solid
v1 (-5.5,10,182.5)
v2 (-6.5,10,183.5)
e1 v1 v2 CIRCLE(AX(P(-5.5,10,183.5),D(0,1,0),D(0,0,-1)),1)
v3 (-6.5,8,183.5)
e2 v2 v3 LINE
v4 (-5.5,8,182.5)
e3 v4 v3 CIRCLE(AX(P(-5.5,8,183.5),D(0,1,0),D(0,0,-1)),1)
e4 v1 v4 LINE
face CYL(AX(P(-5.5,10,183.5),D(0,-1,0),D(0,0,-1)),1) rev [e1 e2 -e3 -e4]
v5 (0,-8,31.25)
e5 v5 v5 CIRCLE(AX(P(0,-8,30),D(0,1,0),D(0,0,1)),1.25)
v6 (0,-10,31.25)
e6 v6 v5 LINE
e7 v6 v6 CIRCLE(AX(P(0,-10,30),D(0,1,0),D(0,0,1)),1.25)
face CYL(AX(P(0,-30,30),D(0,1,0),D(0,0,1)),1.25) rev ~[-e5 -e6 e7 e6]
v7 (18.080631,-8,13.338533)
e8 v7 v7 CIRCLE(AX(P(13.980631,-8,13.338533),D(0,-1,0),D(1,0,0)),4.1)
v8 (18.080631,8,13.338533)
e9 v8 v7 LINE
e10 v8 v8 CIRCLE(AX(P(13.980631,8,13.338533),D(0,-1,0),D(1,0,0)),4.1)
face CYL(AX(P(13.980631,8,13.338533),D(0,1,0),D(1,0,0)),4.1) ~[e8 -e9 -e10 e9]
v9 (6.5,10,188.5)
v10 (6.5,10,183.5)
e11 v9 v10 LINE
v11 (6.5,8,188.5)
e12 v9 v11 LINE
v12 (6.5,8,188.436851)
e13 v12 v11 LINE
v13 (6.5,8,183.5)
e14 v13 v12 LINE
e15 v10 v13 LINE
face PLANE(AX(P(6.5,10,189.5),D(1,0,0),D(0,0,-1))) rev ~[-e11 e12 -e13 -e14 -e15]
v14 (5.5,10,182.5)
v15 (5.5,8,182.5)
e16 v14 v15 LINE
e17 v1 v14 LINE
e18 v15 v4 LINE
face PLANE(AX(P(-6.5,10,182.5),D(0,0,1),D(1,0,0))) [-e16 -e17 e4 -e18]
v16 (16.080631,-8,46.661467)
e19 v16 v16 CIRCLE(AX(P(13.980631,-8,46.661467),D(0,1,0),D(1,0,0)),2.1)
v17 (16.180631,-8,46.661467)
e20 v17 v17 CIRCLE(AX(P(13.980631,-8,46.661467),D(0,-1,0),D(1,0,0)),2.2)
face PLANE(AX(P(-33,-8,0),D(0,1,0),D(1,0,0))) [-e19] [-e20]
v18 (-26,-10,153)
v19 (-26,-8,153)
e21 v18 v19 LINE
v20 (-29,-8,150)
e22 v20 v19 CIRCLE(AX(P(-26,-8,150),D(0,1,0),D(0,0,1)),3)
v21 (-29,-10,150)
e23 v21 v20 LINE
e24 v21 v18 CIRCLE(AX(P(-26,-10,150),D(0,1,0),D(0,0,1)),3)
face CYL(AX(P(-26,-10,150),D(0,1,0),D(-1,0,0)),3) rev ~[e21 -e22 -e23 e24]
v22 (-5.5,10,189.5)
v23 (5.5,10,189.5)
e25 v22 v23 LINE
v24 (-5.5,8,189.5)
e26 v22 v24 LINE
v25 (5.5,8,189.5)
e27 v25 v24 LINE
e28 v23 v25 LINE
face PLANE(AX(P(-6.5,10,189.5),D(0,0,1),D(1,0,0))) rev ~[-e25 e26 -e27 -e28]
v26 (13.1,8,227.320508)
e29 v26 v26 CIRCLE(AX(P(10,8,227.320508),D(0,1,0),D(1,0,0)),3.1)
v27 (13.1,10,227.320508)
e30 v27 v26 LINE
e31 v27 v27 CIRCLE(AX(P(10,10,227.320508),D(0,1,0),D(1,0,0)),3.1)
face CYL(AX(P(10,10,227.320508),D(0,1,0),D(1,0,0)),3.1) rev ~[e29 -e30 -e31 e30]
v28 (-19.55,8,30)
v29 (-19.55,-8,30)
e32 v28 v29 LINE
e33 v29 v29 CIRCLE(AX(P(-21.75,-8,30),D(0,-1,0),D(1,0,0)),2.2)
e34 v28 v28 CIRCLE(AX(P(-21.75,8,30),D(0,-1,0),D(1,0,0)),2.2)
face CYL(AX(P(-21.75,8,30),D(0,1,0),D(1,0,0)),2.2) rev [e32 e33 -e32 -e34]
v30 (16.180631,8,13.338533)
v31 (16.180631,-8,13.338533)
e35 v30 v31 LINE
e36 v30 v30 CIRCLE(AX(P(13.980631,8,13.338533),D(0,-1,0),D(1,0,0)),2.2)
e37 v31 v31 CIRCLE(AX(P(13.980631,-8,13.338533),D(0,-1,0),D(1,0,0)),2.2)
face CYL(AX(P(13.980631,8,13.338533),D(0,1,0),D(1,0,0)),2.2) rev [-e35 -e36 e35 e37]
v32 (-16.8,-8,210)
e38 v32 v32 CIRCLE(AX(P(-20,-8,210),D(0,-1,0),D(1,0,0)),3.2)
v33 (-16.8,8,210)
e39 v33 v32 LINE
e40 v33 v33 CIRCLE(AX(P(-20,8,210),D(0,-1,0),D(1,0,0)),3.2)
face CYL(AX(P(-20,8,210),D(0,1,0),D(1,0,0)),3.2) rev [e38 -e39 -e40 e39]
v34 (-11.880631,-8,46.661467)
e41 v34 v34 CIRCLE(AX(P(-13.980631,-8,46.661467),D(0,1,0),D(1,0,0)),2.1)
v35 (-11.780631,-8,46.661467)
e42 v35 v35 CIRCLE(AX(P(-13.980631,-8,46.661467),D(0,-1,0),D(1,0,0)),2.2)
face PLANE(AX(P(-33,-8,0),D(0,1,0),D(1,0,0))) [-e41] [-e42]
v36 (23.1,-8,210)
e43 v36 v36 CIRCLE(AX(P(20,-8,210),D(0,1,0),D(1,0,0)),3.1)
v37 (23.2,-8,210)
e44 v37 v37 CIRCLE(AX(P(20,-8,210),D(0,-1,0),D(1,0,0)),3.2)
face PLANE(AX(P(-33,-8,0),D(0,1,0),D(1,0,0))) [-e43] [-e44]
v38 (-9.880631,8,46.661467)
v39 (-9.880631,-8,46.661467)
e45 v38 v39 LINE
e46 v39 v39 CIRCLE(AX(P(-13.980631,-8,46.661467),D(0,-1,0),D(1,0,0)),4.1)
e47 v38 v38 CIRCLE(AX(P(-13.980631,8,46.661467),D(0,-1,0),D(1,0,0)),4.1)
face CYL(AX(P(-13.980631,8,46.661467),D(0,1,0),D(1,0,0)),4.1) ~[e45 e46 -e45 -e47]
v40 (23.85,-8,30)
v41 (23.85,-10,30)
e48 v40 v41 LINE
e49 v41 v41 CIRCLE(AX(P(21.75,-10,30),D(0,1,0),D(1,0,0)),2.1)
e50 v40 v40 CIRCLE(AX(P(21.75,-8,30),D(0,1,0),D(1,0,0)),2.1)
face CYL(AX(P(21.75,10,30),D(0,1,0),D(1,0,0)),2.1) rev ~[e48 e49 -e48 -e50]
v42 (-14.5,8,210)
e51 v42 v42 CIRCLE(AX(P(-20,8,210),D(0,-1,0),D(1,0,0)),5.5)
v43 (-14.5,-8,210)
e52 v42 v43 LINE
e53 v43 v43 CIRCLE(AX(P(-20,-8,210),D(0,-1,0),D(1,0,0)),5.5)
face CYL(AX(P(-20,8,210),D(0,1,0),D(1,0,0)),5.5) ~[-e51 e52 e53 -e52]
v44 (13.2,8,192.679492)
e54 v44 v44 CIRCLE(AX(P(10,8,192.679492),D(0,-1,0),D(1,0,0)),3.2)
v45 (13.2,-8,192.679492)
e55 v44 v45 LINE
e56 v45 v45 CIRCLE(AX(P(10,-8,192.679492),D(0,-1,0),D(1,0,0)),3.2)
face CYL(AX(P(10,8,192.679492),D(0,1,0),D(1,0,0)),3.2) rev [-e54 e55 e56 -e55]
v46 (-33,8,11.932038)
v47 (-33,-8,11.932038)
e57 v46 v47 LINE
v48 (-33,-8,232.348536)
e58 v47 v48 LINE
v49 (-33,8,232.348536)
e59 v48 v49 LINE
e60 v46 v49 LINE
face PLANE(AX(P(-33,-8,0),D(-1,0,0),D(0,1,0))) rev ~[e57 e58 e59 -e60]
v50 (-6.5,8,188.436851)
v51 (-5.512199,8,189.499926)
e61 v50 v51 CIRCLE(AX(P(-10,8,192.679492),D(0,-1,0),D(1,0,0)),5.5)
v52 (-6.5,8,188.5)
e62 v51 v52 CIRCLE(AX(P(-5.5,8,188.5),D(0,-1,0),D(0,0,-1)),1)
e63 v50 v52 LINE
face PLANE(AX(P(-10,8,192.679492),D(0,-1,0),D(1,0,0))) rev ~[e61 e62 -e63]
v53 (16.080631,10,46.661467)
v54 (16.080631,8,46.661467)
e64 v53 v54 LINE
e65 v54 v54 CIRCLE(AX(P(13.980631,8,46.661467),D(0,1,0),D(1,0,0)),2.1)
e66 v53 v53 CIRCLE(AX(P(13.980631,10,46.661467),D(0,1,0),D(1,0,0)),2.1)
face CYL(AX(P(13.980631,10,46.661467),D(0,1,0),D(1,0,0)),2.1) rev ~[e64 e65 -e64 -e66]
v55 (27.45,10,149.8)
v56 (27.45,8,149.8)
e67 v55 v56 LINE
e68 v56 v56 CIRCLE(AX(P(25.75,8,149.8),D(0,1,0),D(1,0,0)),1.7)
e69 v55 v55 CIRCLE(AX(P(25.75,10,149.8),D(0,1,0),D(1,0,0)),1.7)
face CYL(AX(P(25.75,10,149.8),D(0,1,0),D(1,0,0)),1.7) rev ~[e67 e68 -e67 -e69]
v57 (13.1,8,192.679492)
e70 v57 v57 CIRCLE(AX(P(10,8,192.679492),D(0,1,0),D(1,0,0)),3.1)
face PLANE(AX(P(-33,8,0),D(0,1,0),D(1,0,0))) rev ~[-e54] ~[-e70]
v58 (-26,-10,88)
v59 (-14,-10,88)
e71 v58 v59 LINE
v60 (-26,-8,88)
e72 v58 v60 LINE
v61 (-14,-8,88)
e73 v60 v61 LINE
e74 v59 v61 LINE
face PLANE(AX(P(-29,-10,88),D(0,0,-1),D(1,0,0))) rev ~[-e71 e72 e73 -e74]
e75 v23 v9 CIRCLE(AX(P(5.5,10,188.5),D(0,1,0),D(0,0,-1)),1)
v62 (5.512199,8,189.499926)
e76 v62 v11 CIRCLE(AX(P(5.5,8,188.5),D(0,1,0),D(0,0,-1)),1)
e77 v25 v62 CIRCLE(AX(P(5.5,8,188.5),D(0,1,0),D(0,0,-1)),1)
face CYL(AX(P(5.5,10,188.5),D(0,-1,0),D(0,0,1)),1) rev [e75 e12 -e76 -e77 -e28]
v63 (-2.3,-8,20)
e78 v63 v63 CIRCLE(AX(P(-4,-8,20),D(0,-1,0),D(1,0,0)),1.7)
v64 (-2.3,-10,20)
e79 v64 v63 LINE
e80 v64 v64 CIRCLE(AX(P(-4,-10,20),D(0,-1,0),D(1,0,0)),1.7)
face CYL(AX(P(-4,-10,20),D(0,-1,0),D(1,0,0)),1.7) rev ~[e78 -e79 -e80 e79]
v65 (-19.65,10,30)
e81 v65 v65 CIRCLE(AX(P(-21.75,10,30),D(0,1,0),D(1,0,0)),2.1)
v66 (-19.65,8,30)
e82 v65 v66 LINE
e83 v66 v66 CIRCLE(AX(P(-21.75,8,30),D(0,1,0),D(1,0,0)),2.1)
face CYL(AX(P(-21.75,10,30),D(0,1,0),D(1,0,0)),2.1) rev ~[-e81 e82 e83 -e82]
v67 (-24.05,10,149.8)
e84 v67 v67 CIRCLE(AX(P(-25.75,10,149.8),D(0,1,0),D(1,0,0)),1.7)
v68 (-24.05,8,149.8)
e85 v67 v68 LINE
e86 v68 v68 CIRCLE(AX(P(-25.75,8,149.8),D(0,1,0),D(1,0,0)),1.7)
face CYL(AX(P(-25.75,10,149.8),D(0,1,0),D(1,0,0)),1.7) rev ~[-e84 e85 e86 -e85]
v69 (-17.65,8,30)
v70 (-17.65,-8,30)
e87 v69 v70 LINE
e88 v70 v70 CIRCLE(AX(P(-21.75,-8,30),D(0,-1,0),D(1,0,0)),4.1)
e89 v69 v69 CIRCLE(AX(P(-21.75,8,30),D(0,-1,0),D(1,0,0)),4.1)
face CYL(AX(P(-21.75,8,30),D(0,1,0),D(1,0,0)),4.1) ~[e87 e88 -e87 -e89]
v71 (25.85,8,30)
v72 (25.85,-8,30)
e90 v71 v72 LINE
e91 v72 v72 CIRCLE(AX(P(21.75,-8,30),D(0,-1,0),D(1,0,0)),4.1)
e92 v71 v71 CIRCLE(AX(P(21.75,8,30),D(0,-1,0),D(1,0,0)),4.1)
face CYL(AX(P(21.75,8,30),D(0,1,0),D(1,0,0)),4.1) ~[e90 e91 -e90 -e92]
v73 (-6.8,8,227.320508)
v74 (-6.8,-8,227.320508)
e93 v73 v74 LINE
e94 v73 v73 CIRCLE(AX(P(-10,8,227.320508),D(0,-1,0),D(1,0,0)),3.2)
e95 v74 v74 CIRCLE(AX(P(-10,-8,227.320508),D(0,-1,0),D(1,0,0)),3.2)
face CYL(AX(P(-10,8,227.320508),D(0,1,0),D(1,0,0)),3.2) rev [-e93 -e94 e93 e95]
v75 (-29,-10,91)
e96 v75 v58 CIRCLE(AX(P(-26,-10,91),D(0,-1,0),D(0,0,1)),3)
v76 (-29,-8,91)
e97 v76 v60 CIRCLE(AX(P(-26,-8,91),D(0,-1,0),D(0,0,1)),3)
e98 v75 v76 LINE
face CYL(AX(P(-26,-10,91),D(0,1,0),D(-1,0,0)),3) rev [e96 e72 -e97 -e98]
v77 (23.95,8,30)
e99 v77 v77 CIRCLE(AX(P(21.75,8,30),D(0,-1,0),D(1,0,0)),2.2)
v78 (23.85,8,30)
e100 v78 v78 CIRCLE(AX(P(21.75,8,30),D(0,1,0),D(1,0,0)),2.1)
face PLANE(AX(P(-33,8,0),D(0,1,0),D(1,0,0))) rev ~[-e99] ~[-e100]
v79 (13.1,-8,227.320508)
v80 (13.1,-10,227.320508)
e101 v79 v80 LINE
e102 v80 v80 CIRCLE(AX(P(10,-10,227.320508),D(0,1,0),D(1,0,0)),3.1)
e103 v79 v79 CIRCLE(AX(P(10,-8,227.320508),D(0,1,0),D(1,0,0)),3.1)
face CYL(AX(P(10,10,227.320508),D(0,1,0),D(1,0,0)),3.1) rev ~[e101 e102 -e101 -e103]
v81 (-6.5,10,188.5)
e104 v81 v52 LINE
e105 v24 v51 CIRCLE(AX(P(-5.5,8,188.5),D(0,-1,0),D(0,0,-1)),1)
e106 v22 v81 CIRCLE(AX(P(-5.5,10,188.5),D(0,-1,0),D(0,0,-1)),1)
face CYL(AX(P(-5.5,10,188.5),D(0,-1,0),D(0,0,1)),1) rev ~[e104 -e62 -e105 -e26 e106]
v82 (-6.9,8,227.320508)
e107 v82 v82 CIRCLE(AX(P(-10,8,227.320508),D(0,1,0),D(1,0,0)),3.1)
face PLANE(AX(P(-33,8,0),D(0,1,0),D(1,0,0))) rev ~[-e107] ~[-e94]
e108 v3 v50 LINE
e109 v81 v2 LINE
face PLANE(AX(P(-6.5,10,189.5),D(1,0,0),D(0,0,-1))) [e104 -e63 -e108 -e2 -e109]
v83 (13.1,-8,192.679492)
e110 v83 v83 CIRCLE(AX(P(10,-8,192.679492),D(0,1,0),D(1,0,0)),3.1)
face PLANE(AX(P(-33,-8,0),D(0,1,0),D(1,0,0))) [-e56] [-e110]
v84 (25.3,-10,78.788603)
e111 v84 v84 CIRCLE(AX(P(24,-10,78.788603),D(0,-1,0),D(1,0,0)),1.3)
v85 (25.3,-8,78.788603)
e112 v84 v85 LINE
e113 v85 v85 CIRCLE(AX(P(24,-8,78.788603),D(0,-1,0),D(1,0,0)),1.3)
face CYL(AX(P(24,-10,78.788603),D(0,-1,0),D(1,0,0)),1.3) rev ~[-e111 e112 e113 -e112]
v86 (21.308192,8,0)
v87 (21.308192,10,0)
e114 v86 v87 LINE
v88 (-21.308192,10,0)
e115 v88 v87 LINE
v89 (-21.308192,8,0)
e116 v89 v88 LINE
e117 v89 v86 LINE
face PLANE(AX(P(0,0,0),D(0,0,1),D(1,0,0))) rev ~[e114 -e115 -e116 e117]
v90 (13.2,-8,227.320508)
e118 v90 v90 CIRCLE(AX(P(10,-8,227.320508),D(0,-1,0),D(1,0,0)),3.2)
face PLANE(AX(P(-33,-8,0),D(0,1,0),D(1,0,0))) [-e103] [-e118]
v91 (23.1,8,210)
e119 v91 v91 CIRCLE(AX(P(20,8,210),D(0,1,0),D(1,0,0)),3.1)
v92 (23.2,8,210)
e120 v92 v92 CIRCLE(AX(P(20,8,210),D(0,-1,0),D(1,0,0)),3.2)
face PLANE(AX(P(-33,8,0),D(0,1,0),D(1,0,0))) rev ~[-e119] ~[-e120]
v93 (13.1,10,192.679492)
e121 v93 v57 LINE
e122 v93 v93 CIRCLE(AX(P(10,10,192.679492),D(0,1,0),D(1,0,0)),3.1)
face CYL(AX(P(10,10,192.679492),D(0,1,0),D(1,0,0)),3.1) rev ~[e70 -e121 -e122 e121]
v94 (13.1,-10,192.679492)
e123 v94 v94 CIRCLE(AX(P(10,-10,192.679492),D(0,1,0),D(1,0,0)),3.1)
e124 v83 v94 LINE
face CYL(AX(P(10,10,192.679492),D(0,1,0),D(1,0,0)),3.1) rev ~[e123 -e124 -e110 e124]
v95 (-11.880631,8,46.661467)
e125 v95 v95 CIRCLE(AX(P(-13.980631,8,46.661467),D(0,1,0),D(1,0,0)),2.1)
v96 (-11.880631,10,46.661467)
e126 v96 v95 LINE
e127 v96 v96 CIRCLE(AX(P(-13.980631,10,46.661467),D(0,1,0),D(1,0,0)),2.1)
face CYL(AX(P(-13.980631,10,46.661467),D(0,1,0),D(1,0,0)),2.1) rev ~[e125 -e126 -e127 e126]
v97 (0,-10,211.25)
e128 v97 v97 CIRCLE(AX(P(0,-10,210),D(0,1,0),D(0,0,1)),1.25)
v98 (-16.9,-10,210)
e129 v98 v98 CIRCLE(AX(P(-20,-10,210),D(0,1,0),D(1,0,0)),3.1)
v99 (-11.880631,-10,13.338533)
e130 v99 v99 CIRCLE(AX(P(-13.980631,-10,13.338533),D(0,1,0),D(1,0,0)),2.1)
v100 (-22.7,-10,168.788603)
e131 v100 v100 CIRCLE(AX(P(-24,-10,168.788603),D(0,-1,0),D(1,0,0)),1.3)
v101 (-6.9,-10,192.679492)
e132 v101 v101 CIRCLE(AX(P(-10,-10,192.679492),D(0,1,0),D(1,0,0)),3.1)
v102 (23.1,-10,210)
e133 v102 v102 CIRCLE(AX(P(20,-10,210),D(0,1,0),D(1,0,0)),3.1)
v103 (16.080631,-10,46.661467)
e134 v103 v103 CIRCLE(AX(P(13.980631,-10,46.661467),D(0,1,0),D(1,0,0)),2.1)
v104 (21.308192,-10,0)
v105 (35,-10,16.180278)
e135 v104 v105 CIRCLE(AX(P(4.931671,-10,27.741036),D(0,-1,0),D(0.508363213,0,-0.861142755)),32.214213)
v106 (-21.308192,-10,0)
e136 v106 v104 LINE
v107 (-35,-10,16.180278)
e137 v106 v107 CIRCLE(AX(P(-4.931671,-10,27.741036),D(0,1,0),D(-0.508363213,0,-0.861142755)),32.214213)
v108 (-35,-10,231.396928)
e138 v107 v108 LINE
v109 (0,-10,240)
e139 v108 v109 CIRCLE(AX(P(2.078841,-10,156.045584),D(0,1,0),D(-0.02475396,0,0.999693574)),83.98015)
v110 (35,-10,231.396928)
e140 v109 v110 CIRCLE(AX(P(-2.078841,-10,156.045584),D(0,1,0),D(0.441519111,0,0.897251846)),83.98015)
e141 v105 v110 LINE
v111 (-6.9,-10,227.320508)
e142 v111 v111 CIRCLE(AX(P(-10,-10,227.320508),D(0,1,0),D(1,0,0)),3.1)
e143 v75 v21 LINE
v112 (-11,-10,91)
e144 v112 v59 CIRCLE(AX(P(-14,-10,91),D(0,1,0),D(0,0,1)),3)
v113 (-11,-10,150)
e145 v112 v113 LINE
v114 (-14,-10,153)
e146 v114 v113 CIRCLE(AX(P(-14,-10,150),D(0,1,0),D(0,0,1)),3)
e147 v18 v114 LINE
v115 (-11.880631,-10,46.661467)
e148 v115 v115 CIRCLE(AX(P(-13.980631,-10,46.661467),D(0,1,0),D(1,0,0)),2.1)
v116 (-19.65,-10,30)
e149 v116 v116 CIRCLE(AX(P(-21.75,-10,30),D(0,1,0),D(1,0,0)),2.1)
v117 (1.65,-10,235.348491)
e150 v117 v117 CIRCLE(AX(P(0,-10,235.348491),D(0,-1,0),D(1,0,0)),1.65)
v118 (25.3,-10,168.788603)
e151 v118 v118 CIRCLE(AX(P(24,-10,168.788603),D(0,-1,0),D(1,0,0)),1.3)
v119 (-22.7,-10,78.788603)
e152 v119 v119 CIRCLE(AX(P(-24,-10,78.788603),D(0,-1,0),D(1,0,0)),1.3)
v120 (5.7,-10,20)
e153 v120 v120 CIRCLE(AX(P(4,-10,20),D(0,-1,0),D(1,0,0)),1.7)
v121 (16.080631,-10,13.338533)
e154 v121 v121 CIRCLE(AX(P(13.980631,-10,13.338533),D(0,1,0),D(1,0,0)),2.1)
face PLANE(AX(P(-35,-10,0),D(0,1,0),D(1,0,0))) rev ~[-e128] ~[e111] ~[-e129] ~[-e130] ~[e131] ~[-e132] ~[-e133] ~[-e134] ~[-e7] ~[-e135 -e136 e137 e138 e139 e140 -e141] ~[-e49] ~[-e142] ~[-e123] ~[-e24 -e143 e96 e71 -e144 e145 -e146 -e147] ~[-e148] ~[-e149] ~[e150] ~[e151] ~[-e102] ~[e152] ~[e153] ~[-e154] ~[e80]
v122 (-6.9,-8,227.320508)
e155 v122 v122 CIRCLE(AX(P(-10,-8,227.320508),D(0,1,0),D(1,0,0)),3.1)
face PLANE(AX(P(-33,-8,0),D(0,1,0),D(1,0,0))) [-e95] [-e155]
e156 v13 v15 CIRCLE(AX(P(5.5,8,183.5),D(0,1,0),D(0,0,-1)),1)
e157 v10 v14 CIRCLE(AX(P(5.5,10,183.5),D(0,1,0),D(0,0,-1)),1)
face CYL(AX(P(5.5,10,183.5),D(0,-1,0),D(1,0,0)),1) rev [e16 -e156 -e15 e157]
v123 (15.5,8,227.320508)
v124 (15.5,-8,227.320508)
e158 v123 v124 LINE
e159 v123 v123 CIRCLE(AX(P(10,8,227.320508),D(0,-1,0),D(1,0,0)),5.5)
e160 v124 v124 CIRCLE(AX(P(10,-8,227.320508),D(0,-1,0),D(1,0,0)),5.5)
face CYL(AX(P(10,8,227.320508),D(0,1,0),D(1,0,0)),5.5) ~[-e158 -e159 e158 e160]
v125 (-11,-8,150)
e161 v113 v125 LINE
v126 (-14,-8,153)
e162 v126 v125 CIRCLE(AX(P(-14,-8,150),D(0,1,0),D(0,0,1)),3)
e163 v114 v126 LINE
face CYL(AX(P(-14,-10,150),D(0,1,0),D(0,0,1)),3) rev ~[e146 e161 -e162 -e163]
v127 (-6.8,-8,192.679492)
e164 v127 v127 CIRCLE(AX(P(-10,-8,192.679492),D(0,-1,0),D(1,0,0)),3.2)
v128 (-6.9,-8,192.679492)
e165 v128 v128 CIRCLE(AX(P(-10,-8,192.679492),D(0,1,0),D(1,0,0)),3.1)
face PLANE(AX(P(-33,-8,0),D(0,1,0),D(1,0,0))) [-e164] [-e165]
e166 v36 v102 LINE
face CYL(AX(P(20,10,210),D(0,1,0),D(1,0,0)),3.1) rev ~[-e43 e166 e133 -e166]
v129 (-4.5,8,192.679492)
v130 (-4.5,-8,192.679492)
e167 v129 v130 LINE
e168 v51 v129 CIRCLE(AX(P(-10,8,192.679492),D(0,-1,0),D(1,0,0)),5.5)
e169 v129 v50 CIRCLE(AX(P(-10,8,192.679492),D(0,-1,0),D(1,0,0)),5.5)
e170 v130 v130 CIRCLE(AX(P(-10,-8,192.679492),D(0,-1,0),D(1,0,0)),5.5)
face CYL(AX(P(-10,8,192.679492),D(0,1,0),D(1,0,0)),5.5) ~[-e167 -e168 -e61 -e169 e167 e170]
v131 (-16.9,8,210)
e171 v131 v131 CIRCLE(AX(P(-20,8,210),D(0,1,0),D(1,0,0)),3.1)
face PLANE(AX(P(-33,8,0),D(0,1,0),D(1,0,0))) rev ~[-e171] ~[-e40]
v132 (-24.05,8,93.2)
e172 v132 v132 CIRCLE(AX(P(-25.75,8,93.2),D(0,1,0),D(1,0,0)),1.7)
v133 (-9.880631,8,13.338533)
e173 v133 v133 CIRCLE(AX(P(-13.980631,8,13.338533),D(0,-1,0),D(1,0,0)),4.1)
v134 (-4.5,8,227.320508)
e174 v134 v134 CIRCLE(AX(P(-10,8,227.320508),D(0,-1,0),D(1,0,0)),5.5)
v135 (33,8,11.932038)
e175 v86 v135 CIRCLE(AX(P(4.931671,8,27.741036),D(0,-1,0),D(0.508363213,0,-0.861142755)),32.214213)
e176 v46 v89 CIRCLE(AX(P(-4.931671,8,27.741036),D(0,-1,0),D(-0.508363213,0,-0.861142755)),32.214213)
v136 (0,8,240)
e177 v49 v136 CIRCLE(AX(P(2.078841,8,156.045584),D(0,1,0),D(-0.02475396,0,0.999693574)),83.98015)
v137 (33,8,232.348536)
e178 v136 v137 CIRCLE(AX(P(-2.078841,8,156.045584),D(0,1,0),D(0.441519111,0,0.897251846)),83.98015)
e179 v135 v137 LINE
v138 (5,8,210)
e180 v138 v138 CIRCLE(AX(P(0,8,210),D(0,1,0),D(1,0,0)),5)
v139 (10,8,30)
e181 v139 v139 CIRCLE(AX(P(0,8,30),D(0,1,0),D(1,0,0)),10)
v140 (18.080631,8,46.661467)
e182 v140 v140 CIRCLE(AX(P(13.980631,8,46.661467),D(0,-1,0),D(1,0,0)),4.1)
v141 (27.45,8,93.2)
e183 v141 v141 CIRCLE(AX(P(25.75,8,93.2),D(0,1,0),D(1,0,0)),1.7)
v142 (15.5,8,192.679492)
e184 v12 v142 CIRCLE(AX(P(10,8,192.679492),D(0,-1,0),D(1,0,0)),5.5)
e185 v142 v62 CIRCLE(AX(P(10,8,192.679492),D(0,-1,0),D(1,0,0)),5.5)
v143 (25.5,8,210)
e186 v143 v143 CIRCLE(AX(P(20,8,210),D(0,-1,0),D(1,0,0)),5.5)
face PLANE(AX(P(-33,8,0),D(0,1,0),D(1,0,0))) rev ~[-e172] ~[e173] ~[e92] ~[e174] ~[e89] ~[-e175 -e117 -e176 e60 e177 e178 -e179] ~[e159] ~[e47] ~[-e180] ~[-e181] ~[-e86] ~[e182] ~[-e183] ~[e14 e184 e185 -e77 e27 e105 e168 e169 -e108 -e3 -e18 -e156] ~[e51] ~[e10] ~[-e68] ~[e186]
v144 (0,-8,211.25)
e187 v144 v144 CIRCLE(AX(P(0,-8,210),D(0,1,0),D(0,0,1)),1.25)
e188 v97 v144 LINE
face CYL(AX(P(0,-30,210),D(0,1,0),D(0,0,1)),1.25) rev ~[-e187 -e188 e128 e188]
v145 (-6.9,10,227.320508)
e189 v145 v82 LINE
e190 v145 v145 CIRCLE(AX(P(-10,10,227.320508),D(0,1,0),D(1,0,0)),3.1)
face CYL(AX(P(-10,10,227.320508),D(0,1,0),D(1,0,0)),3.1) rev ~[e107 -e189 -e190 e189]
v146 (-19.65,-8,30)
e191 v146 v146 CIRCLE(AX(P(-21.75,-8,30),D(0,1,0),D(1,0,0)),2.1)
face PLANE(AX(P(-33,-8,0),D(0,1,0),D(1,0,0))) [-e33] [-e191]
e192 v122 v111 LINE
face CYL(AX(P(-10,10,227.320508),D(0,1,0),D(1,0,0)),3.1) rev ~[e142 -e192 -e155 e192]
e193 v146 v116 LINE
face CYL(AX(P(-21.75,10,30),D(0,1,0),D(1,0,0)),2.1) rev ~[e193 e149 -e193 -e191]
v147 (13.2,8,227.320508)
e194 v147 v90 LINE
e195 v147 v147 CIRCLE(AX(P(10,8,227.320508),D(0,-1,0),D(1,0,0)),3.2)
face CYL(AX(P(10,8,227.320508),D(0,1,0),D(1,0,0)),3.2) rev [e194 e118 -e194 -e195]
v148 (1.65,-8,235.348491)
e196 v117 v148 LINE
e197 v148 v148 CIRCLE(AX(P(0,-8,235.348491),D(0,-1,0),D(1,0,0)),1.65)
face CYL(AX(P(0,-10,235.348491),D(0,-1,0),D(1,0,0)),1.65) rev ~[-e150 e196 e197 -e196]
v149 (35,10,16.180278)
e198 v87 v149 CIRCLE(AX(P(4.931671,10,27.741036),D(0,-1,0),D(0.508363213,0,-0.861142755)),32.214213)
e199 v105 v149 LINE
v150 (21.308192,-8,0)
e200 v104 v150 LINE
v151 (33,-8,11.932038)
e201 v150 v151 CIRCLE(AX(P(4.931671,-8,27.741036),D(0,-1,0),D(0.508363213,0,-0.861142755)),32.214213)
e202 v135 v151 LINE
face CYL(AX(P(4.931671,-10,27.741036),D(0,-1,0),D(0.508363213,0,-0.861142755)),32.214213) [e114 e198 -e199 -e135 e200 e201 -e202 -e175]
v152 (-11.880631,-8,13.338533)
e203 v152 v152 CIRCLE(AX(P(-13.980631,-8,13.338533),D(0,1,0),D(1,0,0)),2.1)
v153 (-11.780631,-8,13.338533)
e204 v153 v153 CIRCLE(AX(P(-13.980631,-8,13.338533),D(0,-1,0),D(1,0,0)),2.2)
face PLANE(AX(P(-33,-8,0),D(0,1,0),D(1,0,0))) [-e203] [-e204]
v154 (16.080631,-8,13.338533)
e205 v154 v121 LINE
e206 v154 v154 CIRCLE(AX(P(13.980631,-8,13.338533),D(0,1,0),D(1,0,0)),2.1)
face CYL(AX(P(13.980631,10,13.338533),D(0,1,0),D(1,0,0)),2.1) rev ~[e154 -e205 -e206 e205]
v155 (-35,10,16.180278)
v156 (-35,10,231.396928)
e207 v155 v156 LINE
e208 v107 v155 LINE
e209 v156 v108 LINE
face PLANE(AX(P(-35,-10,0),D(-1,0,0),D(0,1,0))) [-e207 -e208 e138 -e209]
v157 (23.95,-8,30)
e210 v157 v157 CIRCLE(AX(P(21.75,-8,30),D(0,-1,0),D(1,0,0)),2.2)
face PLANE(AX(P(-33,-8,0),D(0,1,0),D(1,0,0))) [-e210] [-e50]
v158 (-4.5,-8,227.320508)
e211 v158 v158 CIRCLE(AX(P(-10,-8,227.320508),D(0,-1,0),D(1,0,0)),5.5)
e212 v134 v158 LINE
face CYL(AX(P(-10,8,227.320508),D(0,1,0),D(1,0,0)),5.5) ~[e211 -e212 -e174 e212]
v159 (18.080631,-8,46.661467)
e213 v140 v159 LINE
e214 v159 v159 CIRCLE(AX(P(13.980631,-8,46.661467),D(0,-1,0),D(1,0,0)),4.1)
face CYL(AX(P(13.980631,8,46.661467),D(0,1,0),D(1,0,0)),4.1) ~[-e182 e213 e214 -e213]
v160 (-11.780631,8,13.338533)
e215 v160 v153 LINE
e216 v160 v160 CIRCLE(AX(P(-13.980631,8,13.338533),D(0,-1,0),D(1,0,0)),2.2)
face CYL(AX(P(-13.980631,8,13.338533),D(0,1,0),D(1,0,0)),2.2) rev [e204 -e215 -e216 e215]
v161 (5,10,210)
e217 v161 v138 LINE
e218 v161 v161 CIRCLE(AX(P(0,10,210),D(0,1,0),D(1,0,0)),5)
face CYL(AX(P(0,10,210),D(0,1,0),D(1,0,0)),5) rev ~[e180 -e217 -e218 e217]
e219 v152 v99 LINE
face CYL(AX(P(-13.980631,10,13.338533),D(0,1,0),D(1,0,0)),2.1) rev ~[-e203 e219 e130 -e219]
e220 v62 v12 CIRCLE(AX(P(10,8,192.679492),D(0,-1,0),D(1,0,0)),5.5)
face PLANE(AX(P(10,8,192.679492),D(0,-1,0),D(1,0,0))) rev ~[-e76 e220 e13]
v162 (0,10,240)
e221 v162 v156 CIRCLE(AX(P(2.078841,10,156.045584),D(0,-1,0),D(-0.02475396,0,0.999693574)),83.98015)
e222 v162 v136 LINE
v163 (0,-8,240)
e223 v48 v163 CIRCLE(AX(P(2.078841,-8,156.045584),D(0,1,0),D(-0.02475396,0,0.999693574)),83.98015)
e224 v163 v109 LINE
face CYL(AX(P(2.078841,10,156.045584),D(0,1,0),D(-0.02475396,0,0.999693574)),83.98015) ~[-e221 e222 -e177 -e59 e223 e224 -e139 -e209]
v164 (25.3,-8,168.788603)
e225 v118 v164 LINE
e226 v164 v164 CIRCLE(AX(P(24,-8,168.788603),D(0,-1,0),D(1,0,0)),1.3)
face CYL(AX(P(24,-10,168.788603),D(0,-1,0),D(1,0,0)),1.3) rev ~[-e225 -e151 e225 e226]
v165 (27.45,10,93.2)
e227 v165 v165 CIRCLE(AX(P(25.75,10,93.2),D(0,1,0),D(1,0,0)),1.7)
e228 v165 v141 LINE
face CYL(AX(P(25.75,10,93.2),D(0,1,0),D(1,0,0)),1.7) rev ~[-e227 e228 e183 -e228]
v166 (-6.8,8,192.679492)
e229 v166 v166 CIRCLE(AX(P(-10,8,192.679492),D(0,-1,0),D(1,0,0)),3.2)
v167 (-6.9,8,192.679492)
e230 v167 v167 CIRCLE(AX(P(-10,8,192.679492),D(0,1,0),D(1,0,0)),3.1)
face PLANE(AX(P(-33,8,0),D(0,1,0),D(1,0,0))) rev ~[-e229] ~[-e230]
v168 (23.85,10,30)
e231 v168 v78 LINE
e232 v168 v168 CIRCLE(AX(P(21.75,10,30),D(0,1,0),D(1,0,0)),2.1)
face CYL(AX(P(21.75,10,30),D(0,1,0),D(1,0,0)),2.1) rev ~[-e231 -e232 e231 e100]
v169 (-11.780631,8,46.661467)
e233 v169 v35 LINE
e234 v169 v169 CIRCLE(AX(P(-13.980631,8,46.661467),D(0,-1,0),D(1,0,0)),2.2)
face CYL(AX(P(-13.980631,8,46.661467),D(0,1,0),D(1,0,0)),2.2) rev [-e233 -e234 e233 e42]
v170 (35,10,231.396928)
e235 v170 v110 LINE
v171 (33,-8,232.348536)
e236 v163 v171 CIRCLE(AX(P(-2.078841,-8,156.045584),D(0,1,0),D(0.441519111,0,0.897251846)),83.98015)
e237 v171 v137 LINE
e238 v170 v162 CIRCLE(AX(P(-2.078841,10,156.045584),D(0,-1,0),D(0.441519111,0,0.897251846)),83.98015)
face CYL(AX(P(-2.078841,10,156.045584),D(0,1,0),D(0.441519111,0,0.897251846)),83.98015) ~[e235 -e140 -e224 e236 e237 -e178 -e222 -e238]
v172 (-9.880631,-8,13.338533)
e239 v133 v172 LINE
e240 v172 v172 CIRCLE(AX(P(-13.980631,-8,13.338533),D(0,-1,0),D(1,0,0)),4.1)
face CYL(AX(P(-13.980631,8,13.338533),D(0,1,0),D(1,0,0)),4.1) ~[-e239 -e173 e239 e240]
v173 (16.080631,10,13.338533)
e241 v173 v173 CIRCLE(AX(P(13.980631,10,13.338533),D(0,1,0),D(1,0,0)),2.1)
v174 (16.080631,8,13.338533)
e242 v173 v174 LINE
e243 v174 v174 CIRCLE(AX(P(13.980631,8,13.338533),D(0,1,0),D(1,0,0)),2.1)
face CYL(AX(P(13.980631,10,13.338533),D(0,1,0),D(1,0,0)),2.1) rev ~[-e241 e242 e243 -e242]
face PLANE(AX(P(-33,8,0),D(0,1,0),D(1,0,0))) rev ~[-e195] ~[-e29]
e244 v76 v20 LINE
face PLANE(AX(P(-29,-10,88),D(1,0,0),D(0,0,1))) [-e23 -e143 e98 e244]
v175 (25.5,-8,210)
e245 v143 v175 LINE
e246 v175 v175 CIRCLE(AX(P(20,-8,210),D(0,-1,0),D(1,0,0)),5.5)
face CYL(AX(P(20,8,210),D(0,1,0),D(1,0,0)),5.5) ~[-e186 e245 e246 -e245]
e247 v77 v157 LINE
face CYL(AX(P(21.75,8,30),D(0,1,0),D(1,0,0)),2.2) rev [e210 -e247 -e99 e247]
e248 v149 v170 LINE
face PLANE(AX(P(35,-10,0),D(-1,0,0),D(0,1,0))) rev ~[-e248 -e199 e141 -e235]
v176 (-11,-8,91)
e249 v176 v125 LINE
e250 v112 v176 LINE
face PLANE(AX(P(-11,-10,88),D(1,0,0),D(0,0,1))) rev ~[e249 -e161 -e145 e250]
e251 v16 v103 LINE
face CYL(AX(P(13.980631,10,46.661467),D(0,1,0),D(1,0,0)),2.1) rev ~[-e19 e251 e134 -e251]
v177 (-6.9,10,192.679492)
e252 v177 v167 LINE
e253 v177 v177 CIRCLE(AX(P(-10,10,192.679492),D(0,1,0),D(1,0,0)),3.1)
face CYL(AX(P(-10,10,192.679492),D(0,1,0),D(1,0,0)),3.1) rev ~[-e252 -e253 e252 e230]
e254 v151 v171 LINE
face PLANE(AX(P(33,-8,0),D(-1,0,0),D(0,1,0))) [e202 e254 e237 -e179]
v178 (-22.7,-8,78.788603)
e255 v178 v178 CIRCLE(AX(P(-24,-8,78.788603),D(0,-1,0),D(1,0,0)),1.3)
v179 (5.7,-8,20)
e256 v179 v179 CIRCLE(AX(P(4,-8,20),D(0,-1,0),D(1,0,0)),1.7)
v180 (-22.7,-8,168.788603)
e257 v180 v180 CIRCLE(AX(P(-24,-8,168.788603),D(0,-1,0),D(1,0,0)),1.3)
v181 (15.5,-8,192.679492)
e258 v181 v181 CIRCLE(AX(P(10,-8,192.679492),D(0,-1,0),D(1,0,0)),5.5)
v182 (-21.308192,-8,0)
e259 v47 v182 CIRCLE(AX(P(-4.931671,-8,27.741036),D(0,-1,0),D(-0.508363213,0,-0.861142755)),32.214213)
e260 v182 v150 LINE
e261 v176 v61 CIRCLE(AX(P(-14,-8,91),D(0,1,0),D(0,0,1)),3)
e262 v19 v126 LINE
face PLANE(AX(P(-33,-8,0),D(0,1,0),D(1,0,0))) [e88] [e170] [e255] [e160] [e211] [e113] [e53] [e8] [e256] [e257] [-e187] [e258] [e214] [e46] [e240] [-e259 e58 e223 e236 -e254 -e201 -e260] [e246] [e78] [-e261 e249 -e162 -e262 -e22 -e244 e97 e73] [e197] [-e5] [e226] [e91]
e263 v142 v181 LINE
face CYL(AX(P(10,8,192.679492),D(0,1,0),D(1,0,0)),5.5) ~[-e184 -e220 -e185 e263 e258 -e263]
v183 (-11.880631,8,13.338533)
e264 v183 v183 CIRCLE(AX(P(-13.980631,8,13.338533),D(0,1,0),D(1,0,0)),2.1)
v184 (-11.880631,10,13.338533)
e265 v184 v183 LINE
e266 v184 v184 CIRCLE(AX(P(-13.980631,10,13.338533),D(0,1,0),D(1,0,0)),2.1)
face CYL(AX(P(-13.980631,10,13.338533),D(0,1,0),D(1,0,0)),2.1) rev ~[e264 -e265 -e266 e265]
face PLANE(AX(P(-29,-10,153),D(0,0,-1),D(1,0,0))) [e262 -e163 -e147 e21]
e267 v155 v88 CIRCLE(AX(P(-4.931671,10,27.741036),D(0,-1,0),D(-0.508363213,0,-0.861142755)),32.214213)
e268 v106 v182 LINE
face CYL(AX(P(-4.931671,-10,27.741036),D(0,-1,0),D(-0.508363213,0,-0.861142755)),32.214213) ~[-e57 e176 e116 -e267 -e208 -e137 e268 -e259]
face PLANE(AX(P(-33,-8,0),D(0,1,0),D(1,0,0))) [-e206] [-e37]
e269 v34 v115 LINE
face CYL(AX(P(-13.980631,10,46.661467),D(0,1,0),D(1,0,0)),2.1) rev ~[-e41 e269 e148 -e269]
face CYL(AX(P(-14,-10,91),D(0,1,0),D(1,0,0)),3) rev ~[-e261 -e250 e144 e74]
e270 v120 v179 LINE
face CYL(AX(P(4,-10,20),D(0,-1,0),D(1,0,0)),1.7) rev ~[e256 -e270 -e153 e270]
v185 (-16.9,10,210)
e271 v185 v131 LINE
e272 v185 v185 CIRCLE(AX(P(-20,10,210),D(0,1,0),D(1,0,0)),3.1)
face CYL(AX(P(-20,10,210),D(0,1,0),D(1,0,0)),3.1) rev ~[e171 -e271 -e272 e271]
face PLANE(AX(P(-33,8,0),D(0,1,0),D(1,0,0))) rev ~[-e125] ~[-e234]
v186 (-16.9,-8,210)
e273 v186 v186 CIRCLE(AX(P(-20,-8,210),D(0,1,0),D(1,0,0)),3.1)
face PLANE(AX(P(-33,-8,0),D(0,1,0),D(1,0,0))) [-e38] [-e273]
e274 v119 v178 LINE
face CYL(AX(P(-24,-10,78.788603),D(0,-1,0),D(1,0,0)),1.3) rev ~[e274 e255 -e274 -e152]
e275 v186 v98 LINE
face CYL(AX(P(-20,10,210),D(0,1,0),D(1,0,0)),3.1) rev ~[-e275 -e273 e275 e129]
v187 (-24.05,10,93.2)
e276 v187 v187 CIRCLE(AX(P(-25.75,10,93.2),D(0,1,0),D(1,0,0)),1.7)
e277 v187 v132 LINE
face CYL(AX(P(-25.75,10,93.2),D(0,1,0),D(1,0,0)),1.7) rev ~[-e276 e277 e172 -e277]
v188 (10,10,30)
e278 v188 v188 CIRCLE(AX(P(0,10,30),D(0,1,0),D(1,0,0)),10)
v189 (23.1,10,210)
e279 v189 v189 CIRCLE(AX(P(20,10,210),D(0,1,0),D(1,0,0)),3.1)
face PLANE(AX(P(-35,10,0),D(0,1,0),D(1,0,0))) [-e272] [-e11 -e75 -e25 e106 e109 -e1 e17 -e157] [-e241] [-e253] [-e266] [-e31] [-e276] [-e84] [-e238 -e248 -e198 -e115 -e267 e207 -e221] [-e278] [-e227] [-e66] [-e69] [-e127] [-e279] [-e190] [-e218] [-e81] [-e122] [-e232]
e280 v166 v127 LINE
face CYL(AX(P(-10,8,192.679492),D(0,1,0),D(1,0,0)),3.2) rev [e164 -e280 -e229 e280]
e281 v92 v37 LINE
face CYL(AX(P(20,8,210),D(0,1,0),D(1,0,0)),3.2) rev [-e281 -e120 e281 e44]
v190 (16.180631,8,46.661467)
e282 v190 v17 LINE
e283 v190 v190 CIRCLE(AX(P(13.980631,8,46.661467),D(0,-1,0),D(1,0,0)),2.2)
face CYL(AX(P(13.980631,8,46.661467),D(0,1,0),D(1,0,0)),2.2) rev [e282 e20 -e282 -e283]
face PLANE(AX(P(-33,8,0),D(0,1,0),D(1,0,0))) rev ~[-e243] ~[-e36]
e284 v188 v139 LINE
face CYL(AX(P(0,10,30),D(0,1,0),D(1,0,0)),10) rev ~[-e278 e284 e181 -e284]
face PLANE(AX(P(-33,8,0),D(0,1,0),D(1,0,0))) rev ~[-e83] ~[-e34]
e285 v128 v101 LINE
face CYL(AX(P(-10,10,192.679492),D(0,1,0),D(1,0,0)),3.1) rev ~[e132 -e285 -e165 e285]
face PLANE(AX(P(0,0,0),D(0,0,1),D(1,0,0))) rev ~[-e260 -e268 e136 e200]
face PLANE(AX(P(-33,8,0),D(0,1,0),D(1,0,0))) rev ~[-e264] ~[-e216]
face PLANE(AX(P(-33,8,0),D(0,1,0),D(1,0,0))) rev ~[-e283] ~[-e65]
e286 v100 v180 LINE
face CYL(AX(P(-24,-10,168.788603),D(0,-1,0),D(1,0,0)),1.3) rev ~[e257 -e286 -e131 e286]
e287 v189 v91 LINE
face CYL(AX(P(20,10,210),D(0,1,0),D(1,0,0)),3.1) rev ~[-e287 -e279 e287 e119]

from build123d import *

# Parameters (mm, degrees)
SKETCH_1_W             = 70
SKETCH_1_H             = 20
SKETCH_1_W_2           = 66
SKETCH_1_H_2           = 16
EXTRUDE_1_DEPTH        = 240
CUT_EXTRUDE_1_REACH    = 22
SKETCH_2_R             = 10
CUT_EXTRUDE_2_REACH    = 22
SKETCH_3_R             = 5
SKETCH_4_R             = 2.1
CUT_EXTRUDE_3_DEPTH    = 21
CUT_EXTRUDE_5_REACH    = 22
CUT_EXTRUDE_8_DEPTH    = 21
SKETCH_13_R            = 3.1
CUT_EXTRUDE_10_DEPTH   = 21
CUT_EXTRUDE_11_REACH   = 22
SKETCH_14_W            = 13
SKETCH_14_H            = 7
FILLET_1_R             = 1
CUT_EXTRUDE_12_REACH   = 22
SKETCH_15_R            = 1
HOLE_WIZARD_M3_1_D     = 2.5
HOLE_WIZARD_M3_1_DEPTH = 20
SKETCH_40_R            = 1.7
CUT_EXTRUDE_21_DEPTH   = 10
SKETCH_49_R            = 4.1
SKETCH_49_R_2          = 2.2
SKETCH_49_R_3          = 5.5
SKETCH_49_R_4          = 3.2
EXTRUDE_2_DEPTH        = 16
SKETCH_50_R            = 1.7
CUT_EXTRUDE_27_DEPTH   = 2
SKETCH_51_W            = 18
SKETCH_51_H            = 65
CUT_EXTRUDE_28_DEPTH   = 2
FILLET_6_R             = 3
CUT_EXTRUDE_29_REACH   = 22
SKETCH_52_R            = 1.3
CUT_EXTRUDE_30_REACH   = 22
SKETCH_53_R            = 1.65


with BuildPart() as part:
    # 草图1 → 凸台-拉伸1 (new body)
    with BuildSketch(Plane.XY):
        Rectangle(SKETCH_1_W, SKETCH_1_H)
        Rectangle(SKETCH_1_W_2, SKETCH_1_H_2, mode=Mode.SUBTRACT)
    extrude(amount=EXTRUDE_1_DEPTH)

    # 草图2 → 切除-拉伸1 (cut, up to next)
    with BuildSketch(Plane(origin=(0, 10, 0), x_dir=(1, 0, 0), z_dir=(0, 1, 0)), mode=Mode.PRIVATE) as cut_extrude_1_sk1:
        with Locations((0, -30)):
            Circle(SKETCH_2_R)
    cut_extrude_1_tool1 = extrude(cut_extrude_1_sk1.sketch, amount=-CUT_EXTRUDE_1_REACH, mode=Mode.PRIVATE) & part.part
    add(cut_extrude_1_tool1.solids().sort_by_distance((0, 10, 30))[0], mode=Mode.SUBTRACT)

    # 草图3 → 切除-拉伸2 (cut, up to next)
    with BuildSketch(Plane(origin=(0, 10, 0), x_dir=(1, 0, 0), z_dir=(0, 1, 0)), mode=Mode.PRIVATE) as cut_extrude_2_sk1:
        with Locations((0, -210)):
            Circle(SKETCH_3_R)
    cut_extrude_2_tool1 = extrude(cut_extrude_2_sk1.sketch, amount=-CUT_EXTRUDE_2_REACH, mode=Mode.PRIVATE) & part.part
    add(cut_extrude_2_tool1.solids().sort_by_distance((0, 10, 210))[0], mode=Mode.SUBTRACT)

    # 草图4 → 切除-拉伸3 (cut, through all)
    with BuildSketch(Plane(origin=(0, 10, 0), x_dir=(1, 0, 0), z_dir=(0, 1, 0))):
        with Locations((-13.980630511, -13.338533362)):
            Circle(SKETCH_4_R)
        with Locations((-21.75, -30)):
            Circle(SKETCH_4_R)
        with Locations((13.980630511, -13.338533362)):
            Circle(SKETCH_4_R)
        with Locations((21.75, -30)):
            Circle(SKETCH_4_R)
        with Locations((13.980630511, -46.661466638)):
            Circle(SKETCH_4_R)
        with Locations((-13.980630511, -46.661466638)):
            Circle(SKETCH_4_R)
    extrude(amount=-CUT_EXTRUDE_3_DEPTH, mode=Mode.SUBTRACT)

    # 草图7 → 切除-拉伸5 (cut, up to next)
    with BuildSketch(Plane.XZ.offset(10), mode=Mode.PRIVATE) as cut_extrude_5_sk1:
        with BuildLine():
            Line((-35, 16.180278489), (-35, 0))
            Line((-35, 0), (-21.308191912, 0))
            ThreePointArc((-21.308191912, 0), (-29.522957546, 6.931803792), (-35, 16.180278489))
        make_face()
    cut_extrude_5_tool1 = extrude(cut_extrude_5_sk1.sketch, amount=-CUT_EXTRUDE_5_REACH, mode=Mode.PRIVATE) & part.part
    add(cut_extrude_5_tool1.solids().sort_by_distance((-30.953915, -10, 4.726426))[0], mode=Mode.SUBTRACT)
    # 草图7 → 切除-拉伸5 (cut, up to next)
    with BuildSketch(Plane.XZ.offset(10), mode=Mode.PRIVATE) as cut_extrude_5_sk2:
        with BuildLine():
            Line((35, 16.180278489), (35, 0))
            Line((35, 0), (21.308191912, 0))
            ThreePointArc((21.308191912, 0), (29.522957546, 6.931803792), (35, 16.180278489))
        make_face()
    cut_extrude_5_tool2 = extrude(cut_extrude_5_sk2.sketch, amount=-CUT_EXTRUDE_5_REACH, mode=Mode.PRIVATE) & part.part
    add(cut_extrude_5_tool2.solids().sort_by_distance((30.953915, -10, 4.726426))[0], mode=Mode.SUBTRACT)

    # 草图10 → 切除-拉伸8 (cut, through all)
    with BuildSketch(Plane(origin=(0, 10, 0), x_dir=(1, 0, 0), z_dir=(0, 1, 0))):
        with BuildLine():
            ThreePointArc((0, -240), (-17.966962187, -237.598213103), (-35, -231.396928288))
            Line((-35, -231.396928288), (-35, -240))
            Line((-35, -240), (0, -240))
        make_face()
        with BuildLine():
            ThreePointArc((35, -231.396928288), (17.966962187, -237.598213103), (0, -240))
            Line((0, -240), (35, -240))
            Line((35, -240), (35, -231.396928288))
        make_face()
    extrude(amount=-CUT_EXTRUDE_8_DEPTH, mode=Mode.SUBTRACT)

    # 草图13 → 切除-拉伸10 (cut, through all)
    with BuildSketch(Plane(origin=(0, 10, 0), x_dir=(1, 0, 0), z_dir=(0, 1, 0))):
        with Locations((-20, -210)):
            Circle(SKETCH_13_R)
        with Locations((-10, -192.679491924)):
            Circle(SKETCH_13_R)
        with Locations((10, -192.679491924)):
            Circle(SKETCH_13_R)
        with Locations((20, -210)):
            Circle(SKETCH_13_R)
        with Locations((10, -227.320508076)):
            Circle(SKETCH_13_R)
        with Locations((-10, -227.320508076)):
            Circle(SKETCH_13_R)
    extrude(amount=-CUT_EXTRUDE_10_DEPTH, mode=Mode.SUBTRACT)

    # 草图14 → 切除-拉伸11 (cut, up to next)
    with BuildSketch(Plane(origin=(0, 10, 0), x_dir=(1, 0, 0), z_dir=(0, 1, 0)), mode=Mode.PRIVATE) as cut_extrude_11_sk1:
        with Locations((0, -186)):
            Rectangle(SKETCH_14_W, SKETCH_14_H)
    cut_extrude_11_tool1 = extrude(cut_extrude_11_sk1.sketch, amount=-CUT_EXTRUDE_11_REACH, mode=Mode.PRIVATE) & part.part
    add(cut_extrude_11_tool1.solids().sort_by_distance((0, 10, 186))[0], mode=Mode.SUBTRACT)

    # 圆角1
    fillet_1_edges = [part.edges().sort_by_distance(p)[0] for p in [
        (-6.5, 9, 189.5),
        (-6.5, 9, 182.5),
        (6.5, 9, 182.5),
        (6.5, 9, 189.5),
    ]]
    fillet(fillet_1_edges, radius=FILLET_1_R)

    # 草图15 → 切除-拉伸12 (cut, up to next)
    with BuildSketch(Plane.XZ.offset(10), mode=Mode.PRIVATE) as cut_extrude_12_sk1:
        with Locations((0, 30)):
            Circle(SKETCH_15_R)
    cut_extrude_12_tool1 = extrude(cut_extrude_12_sk1.sketch, amount=-CUT_EXTRUDE_12_REACH, mode=Mode.PRIVATE) & part.part
    add(cut_extrude_12_tool1.solids().sort_by_distance((0, -10, 30))[0], mode=Mode.SUBTRACT)

    # M3 螺纹孔1
    with Locations(Plane(origin=(0, -10, 30), x_dir=(0, 0, -1), z_dir=(0, -1, 0))):
        with Locations((0, 0), (-180, 0)):
            Hole(HOLE_WIZARD_M3_1_D / 2, depth=HOLE_WIZARD_M3_1_DEPTH)

    # 草图40 → 切除-拉伸21 (cut)
    with BuildSketch(Plane.XZ.offset(10)):
        with Locations((-4, 20)):
            Circle(SKETCH_40_R)
        with Locations((4, 20)):
            Circle(SKETCH_40_R)
    extrude(amount=-CUT_EXTRUDE_21_DEPTH, mode=Mode.SUBTRACT)

    # 草图49 → 凸台-拉伸2 (add)
    with BuildSketch(Plane.XZ.offset(-8)):
        with Locations((-13.980630511, 46.661466638)):
            Circle(SKETCH_49_R)
        with Locations((-13.980630511, 46.661466638)):
            Circle(SKETCH_49_R_2, mode=Mode.SUBTRACT)
        with Locations((-21.75, 30)):
            Circle(SKETCH_49_R)
        with Locations((-21.75, 30)):
            Circle(SKETCH_49_R_2, mode=Mode.SUBTRACT)
        with Locations((-13.980630511, 13.338533362)):
            Circle(SKETCH_49_R)
        with Locations((-13.980630511, 13.338533362)):
            Circle(SKETCH_49_R_2, mode=Mode.SUBTRACT)
        with Locations((13.980630511, 13.338533362)):
            Circle(SKETCH_49_R)
        with Locations((13.980630511, 13.338533362)):
            Circle(SKETCH_49_R_2, mode=Mode.SUBTRACT)
        with Locations((21.75, 30)):
            Circle(SKETCH_49_R)
        with Locations((21.75, 30)):
            Circle(SKETCH_49_R_2, mode=Mode.SUBTRACT)
        with Locations((13.980630511, 46.661466638)):
            Circle(SKETCH_49_R)
        with Locations((13.980630511, 46.661466638)):
            Circle(SKETCH_49_R_2, mode=Mode.SUBTRACT)
        with Locations((-10, 227.320508076)):
            Circle(SKETCH_49_R_3)
        with Locations((-10, 227.320508076)):
            Circle(SKETCH_49_R_4, mode=Mode.SUBTRACT)
        with Locations((10, 227.320508076)):
            Circle(SKETCH_49_R_3)
        with Locations((10, 227.320508076)):
            Circle(SKETCH_49_R_4, mode=Mode.SUBTRACT)
        with Locations((20, 210)):
            Circle(SKETCH_49_R_3)
        with Locations((20, 210)):
            Circle(SKETCH_49_R_4, mode=Mode.SUBTRACT)
        with Locations((10, 192.679491924)):
            Circle(SKETCH_49_R_3)
        with Locations((10, 192.679491924)):
            Circle(SKETCH_49_R_4, mode=Mode.SUBTRACT)
        with Locations((-10, 192.679491924)):
            Circle(SKETCH_49_R_3)
        with Locations((-10, 192.679491924)):
            Circle(SKETCH_49_R_4, mode=Mode.SUBTRACT)
        with Locations((-20, 210)):
            Circle(SKETCH_49_R_3)
        with Locations((-20, 210)):
            Circle(SKETCH_49_R_4, mode=Mode.SUBTRACT)
    extrude(amount=EXTRUDE_2_DEPTH)

    # 草图50 → 切除-拉伸27 (cut)
    with BuildSketch(Plane(origin=(0, 10, 0), x_dir=(1, 0, 0), z_dir=(0, 1, 0))):
        with Locations((-25.75, -93.2)):
            Circle(SKETCH_50_R)
        with Locations((25.75, -93.2)):
            Circle(SKETCH_50_R)
        with Locations((-25.75, -149.8)):
            Circle(SKETCH_50_R)
        with Locations((25.75, -149.8)):
            Circle(SKETCH_50_R)
    extrude(amount=-CUT_EXTRUDE_27_DEPTH, mode=Mode.SUBTRACT)

    # 草图51 → 切除-拉伸28 (cut)
    with BuildSketch(Plane.XZ.offset(10)):
        with Locations((-20, 120.5)):
            Rectangle(SKETCH_51_W, SKETCH_51_H)
    extrude(amount=-CUT_EXTRUDE_28_DEPTH, mode=Mode.SUBTRACT)

    # 圆角6
    fillet_6_edges = [part.edges().sort_by_distance(p)[0] for p in [
        (-11, -9, 153),
        (-11, -9, 88),
        (-29, -9, 88),
        (-29, -9, 153),
    ]]
    fillet(fillet_6_edges, radius=FILLET_6_R)

    # 草图52 → 切除-拉伸29 (cut, up to next)
    with BuildSketch(Plane.XZ.offset(10), mode=Mode.PRIVATE) as cut_extrude_29_sk1:
        with Locations((-24, 168.788603388)):
            Circle(SKETCH_52_R)
    cut_extrude_29_tool1 = extrude(cut_extrude_29_sk1.sketch, amount=-CUT_EXTRUDE_29_REACH, mode=Mode.PRIVATE) & part.part
    add(cut_extrude_29_tool1.solids().sort_by_distance((-24, -10, 168.788603))[0], mode=Mode.SUBTRACT)
    # 草图52 → 切除-拉伸29 (cut, up to next)
    with BuildSketch(Plane.XZ.offset(10), mode=Mode.PRIVATE) as cut_extrude_29_sk2:
        with Locations((-24, 78.788603388)):
            Circle(SKETCH_52_R)
    cut_extrude_29_tool2 = extrude(cut_extrude_29_sk2.sketch, amount=-CUT_EXTRUDE_29_REACH, mode=Mode.PRIVATE) & part.part
    add(cut_extrude_29_tool2.solids().sort_by_distance((-24, -10, 78.788603))[0], mode=Mode.SUBTRACT)
    # 草图52 → 切除-拉伸29 (cut, up to next)
    with BuildSketch(Plane.XZ.offset(10), mode=Mode.PRIVATE) as cut_extrude_29_sk3:
        with Locations((24, 78.788603388)):
            Circle(SKETCH_52_R)
    cut_extrude_29_tool3 = extrude(cut_extrude_29_sk3.sketch, amount=-CUT_EXTRUDE_29_REACH, mode=Mode.PRIVATE) & part.part
    add(cut_extrude_29_tool3.solids().sort_by_distance((24, -10, 78.788603))[0], mode=Mode.SUBTRACT)
    # 草图52 → 切除-拉伸29 (cut, up to next)
    with BuildSketch(Plane.XZ.offset(10), mode=Mode.PRIVATE) as cut_extrude_29_sk4:
        with Locations((24, 168.788603388)):
            Circle(SKETCH_52_R)
    cut_extrude_29_tool4 = extrude(cut_extrude_29_sk4.sketch, amount=-CUT_EXTRUDE_29_REACH, mode=Mode.PRIVATE) & part.part
    add(cut_extrude_29_tool4.solids().sort_by_distance((24, -10, 168.788603))[0], mode=Mode.SUBTRACT)

    # 草图53 → 切除-拉伸30 (cut, up to next)
    with BuildSketch(Plane.XZ.offset(10), mode=Mode.PRIVATE) as cut_extrude_30_sk1:
        with Locations((0, 235.348491094)):
            Circle(SKETCH_53_R)
    cut_extrude_30_tool1 = extrude(cut_extrude_30_sk1.sketch, amount=-CUT_EXTRUDE_30_REACH, mode=Mode.PRIVATE) & part.part
    add(cut_extrude_30_tool1.solids().sort_by_distance((0, -10, 235.348491))[0], mode=Mode.SUBTRACT)


solid = part.part
